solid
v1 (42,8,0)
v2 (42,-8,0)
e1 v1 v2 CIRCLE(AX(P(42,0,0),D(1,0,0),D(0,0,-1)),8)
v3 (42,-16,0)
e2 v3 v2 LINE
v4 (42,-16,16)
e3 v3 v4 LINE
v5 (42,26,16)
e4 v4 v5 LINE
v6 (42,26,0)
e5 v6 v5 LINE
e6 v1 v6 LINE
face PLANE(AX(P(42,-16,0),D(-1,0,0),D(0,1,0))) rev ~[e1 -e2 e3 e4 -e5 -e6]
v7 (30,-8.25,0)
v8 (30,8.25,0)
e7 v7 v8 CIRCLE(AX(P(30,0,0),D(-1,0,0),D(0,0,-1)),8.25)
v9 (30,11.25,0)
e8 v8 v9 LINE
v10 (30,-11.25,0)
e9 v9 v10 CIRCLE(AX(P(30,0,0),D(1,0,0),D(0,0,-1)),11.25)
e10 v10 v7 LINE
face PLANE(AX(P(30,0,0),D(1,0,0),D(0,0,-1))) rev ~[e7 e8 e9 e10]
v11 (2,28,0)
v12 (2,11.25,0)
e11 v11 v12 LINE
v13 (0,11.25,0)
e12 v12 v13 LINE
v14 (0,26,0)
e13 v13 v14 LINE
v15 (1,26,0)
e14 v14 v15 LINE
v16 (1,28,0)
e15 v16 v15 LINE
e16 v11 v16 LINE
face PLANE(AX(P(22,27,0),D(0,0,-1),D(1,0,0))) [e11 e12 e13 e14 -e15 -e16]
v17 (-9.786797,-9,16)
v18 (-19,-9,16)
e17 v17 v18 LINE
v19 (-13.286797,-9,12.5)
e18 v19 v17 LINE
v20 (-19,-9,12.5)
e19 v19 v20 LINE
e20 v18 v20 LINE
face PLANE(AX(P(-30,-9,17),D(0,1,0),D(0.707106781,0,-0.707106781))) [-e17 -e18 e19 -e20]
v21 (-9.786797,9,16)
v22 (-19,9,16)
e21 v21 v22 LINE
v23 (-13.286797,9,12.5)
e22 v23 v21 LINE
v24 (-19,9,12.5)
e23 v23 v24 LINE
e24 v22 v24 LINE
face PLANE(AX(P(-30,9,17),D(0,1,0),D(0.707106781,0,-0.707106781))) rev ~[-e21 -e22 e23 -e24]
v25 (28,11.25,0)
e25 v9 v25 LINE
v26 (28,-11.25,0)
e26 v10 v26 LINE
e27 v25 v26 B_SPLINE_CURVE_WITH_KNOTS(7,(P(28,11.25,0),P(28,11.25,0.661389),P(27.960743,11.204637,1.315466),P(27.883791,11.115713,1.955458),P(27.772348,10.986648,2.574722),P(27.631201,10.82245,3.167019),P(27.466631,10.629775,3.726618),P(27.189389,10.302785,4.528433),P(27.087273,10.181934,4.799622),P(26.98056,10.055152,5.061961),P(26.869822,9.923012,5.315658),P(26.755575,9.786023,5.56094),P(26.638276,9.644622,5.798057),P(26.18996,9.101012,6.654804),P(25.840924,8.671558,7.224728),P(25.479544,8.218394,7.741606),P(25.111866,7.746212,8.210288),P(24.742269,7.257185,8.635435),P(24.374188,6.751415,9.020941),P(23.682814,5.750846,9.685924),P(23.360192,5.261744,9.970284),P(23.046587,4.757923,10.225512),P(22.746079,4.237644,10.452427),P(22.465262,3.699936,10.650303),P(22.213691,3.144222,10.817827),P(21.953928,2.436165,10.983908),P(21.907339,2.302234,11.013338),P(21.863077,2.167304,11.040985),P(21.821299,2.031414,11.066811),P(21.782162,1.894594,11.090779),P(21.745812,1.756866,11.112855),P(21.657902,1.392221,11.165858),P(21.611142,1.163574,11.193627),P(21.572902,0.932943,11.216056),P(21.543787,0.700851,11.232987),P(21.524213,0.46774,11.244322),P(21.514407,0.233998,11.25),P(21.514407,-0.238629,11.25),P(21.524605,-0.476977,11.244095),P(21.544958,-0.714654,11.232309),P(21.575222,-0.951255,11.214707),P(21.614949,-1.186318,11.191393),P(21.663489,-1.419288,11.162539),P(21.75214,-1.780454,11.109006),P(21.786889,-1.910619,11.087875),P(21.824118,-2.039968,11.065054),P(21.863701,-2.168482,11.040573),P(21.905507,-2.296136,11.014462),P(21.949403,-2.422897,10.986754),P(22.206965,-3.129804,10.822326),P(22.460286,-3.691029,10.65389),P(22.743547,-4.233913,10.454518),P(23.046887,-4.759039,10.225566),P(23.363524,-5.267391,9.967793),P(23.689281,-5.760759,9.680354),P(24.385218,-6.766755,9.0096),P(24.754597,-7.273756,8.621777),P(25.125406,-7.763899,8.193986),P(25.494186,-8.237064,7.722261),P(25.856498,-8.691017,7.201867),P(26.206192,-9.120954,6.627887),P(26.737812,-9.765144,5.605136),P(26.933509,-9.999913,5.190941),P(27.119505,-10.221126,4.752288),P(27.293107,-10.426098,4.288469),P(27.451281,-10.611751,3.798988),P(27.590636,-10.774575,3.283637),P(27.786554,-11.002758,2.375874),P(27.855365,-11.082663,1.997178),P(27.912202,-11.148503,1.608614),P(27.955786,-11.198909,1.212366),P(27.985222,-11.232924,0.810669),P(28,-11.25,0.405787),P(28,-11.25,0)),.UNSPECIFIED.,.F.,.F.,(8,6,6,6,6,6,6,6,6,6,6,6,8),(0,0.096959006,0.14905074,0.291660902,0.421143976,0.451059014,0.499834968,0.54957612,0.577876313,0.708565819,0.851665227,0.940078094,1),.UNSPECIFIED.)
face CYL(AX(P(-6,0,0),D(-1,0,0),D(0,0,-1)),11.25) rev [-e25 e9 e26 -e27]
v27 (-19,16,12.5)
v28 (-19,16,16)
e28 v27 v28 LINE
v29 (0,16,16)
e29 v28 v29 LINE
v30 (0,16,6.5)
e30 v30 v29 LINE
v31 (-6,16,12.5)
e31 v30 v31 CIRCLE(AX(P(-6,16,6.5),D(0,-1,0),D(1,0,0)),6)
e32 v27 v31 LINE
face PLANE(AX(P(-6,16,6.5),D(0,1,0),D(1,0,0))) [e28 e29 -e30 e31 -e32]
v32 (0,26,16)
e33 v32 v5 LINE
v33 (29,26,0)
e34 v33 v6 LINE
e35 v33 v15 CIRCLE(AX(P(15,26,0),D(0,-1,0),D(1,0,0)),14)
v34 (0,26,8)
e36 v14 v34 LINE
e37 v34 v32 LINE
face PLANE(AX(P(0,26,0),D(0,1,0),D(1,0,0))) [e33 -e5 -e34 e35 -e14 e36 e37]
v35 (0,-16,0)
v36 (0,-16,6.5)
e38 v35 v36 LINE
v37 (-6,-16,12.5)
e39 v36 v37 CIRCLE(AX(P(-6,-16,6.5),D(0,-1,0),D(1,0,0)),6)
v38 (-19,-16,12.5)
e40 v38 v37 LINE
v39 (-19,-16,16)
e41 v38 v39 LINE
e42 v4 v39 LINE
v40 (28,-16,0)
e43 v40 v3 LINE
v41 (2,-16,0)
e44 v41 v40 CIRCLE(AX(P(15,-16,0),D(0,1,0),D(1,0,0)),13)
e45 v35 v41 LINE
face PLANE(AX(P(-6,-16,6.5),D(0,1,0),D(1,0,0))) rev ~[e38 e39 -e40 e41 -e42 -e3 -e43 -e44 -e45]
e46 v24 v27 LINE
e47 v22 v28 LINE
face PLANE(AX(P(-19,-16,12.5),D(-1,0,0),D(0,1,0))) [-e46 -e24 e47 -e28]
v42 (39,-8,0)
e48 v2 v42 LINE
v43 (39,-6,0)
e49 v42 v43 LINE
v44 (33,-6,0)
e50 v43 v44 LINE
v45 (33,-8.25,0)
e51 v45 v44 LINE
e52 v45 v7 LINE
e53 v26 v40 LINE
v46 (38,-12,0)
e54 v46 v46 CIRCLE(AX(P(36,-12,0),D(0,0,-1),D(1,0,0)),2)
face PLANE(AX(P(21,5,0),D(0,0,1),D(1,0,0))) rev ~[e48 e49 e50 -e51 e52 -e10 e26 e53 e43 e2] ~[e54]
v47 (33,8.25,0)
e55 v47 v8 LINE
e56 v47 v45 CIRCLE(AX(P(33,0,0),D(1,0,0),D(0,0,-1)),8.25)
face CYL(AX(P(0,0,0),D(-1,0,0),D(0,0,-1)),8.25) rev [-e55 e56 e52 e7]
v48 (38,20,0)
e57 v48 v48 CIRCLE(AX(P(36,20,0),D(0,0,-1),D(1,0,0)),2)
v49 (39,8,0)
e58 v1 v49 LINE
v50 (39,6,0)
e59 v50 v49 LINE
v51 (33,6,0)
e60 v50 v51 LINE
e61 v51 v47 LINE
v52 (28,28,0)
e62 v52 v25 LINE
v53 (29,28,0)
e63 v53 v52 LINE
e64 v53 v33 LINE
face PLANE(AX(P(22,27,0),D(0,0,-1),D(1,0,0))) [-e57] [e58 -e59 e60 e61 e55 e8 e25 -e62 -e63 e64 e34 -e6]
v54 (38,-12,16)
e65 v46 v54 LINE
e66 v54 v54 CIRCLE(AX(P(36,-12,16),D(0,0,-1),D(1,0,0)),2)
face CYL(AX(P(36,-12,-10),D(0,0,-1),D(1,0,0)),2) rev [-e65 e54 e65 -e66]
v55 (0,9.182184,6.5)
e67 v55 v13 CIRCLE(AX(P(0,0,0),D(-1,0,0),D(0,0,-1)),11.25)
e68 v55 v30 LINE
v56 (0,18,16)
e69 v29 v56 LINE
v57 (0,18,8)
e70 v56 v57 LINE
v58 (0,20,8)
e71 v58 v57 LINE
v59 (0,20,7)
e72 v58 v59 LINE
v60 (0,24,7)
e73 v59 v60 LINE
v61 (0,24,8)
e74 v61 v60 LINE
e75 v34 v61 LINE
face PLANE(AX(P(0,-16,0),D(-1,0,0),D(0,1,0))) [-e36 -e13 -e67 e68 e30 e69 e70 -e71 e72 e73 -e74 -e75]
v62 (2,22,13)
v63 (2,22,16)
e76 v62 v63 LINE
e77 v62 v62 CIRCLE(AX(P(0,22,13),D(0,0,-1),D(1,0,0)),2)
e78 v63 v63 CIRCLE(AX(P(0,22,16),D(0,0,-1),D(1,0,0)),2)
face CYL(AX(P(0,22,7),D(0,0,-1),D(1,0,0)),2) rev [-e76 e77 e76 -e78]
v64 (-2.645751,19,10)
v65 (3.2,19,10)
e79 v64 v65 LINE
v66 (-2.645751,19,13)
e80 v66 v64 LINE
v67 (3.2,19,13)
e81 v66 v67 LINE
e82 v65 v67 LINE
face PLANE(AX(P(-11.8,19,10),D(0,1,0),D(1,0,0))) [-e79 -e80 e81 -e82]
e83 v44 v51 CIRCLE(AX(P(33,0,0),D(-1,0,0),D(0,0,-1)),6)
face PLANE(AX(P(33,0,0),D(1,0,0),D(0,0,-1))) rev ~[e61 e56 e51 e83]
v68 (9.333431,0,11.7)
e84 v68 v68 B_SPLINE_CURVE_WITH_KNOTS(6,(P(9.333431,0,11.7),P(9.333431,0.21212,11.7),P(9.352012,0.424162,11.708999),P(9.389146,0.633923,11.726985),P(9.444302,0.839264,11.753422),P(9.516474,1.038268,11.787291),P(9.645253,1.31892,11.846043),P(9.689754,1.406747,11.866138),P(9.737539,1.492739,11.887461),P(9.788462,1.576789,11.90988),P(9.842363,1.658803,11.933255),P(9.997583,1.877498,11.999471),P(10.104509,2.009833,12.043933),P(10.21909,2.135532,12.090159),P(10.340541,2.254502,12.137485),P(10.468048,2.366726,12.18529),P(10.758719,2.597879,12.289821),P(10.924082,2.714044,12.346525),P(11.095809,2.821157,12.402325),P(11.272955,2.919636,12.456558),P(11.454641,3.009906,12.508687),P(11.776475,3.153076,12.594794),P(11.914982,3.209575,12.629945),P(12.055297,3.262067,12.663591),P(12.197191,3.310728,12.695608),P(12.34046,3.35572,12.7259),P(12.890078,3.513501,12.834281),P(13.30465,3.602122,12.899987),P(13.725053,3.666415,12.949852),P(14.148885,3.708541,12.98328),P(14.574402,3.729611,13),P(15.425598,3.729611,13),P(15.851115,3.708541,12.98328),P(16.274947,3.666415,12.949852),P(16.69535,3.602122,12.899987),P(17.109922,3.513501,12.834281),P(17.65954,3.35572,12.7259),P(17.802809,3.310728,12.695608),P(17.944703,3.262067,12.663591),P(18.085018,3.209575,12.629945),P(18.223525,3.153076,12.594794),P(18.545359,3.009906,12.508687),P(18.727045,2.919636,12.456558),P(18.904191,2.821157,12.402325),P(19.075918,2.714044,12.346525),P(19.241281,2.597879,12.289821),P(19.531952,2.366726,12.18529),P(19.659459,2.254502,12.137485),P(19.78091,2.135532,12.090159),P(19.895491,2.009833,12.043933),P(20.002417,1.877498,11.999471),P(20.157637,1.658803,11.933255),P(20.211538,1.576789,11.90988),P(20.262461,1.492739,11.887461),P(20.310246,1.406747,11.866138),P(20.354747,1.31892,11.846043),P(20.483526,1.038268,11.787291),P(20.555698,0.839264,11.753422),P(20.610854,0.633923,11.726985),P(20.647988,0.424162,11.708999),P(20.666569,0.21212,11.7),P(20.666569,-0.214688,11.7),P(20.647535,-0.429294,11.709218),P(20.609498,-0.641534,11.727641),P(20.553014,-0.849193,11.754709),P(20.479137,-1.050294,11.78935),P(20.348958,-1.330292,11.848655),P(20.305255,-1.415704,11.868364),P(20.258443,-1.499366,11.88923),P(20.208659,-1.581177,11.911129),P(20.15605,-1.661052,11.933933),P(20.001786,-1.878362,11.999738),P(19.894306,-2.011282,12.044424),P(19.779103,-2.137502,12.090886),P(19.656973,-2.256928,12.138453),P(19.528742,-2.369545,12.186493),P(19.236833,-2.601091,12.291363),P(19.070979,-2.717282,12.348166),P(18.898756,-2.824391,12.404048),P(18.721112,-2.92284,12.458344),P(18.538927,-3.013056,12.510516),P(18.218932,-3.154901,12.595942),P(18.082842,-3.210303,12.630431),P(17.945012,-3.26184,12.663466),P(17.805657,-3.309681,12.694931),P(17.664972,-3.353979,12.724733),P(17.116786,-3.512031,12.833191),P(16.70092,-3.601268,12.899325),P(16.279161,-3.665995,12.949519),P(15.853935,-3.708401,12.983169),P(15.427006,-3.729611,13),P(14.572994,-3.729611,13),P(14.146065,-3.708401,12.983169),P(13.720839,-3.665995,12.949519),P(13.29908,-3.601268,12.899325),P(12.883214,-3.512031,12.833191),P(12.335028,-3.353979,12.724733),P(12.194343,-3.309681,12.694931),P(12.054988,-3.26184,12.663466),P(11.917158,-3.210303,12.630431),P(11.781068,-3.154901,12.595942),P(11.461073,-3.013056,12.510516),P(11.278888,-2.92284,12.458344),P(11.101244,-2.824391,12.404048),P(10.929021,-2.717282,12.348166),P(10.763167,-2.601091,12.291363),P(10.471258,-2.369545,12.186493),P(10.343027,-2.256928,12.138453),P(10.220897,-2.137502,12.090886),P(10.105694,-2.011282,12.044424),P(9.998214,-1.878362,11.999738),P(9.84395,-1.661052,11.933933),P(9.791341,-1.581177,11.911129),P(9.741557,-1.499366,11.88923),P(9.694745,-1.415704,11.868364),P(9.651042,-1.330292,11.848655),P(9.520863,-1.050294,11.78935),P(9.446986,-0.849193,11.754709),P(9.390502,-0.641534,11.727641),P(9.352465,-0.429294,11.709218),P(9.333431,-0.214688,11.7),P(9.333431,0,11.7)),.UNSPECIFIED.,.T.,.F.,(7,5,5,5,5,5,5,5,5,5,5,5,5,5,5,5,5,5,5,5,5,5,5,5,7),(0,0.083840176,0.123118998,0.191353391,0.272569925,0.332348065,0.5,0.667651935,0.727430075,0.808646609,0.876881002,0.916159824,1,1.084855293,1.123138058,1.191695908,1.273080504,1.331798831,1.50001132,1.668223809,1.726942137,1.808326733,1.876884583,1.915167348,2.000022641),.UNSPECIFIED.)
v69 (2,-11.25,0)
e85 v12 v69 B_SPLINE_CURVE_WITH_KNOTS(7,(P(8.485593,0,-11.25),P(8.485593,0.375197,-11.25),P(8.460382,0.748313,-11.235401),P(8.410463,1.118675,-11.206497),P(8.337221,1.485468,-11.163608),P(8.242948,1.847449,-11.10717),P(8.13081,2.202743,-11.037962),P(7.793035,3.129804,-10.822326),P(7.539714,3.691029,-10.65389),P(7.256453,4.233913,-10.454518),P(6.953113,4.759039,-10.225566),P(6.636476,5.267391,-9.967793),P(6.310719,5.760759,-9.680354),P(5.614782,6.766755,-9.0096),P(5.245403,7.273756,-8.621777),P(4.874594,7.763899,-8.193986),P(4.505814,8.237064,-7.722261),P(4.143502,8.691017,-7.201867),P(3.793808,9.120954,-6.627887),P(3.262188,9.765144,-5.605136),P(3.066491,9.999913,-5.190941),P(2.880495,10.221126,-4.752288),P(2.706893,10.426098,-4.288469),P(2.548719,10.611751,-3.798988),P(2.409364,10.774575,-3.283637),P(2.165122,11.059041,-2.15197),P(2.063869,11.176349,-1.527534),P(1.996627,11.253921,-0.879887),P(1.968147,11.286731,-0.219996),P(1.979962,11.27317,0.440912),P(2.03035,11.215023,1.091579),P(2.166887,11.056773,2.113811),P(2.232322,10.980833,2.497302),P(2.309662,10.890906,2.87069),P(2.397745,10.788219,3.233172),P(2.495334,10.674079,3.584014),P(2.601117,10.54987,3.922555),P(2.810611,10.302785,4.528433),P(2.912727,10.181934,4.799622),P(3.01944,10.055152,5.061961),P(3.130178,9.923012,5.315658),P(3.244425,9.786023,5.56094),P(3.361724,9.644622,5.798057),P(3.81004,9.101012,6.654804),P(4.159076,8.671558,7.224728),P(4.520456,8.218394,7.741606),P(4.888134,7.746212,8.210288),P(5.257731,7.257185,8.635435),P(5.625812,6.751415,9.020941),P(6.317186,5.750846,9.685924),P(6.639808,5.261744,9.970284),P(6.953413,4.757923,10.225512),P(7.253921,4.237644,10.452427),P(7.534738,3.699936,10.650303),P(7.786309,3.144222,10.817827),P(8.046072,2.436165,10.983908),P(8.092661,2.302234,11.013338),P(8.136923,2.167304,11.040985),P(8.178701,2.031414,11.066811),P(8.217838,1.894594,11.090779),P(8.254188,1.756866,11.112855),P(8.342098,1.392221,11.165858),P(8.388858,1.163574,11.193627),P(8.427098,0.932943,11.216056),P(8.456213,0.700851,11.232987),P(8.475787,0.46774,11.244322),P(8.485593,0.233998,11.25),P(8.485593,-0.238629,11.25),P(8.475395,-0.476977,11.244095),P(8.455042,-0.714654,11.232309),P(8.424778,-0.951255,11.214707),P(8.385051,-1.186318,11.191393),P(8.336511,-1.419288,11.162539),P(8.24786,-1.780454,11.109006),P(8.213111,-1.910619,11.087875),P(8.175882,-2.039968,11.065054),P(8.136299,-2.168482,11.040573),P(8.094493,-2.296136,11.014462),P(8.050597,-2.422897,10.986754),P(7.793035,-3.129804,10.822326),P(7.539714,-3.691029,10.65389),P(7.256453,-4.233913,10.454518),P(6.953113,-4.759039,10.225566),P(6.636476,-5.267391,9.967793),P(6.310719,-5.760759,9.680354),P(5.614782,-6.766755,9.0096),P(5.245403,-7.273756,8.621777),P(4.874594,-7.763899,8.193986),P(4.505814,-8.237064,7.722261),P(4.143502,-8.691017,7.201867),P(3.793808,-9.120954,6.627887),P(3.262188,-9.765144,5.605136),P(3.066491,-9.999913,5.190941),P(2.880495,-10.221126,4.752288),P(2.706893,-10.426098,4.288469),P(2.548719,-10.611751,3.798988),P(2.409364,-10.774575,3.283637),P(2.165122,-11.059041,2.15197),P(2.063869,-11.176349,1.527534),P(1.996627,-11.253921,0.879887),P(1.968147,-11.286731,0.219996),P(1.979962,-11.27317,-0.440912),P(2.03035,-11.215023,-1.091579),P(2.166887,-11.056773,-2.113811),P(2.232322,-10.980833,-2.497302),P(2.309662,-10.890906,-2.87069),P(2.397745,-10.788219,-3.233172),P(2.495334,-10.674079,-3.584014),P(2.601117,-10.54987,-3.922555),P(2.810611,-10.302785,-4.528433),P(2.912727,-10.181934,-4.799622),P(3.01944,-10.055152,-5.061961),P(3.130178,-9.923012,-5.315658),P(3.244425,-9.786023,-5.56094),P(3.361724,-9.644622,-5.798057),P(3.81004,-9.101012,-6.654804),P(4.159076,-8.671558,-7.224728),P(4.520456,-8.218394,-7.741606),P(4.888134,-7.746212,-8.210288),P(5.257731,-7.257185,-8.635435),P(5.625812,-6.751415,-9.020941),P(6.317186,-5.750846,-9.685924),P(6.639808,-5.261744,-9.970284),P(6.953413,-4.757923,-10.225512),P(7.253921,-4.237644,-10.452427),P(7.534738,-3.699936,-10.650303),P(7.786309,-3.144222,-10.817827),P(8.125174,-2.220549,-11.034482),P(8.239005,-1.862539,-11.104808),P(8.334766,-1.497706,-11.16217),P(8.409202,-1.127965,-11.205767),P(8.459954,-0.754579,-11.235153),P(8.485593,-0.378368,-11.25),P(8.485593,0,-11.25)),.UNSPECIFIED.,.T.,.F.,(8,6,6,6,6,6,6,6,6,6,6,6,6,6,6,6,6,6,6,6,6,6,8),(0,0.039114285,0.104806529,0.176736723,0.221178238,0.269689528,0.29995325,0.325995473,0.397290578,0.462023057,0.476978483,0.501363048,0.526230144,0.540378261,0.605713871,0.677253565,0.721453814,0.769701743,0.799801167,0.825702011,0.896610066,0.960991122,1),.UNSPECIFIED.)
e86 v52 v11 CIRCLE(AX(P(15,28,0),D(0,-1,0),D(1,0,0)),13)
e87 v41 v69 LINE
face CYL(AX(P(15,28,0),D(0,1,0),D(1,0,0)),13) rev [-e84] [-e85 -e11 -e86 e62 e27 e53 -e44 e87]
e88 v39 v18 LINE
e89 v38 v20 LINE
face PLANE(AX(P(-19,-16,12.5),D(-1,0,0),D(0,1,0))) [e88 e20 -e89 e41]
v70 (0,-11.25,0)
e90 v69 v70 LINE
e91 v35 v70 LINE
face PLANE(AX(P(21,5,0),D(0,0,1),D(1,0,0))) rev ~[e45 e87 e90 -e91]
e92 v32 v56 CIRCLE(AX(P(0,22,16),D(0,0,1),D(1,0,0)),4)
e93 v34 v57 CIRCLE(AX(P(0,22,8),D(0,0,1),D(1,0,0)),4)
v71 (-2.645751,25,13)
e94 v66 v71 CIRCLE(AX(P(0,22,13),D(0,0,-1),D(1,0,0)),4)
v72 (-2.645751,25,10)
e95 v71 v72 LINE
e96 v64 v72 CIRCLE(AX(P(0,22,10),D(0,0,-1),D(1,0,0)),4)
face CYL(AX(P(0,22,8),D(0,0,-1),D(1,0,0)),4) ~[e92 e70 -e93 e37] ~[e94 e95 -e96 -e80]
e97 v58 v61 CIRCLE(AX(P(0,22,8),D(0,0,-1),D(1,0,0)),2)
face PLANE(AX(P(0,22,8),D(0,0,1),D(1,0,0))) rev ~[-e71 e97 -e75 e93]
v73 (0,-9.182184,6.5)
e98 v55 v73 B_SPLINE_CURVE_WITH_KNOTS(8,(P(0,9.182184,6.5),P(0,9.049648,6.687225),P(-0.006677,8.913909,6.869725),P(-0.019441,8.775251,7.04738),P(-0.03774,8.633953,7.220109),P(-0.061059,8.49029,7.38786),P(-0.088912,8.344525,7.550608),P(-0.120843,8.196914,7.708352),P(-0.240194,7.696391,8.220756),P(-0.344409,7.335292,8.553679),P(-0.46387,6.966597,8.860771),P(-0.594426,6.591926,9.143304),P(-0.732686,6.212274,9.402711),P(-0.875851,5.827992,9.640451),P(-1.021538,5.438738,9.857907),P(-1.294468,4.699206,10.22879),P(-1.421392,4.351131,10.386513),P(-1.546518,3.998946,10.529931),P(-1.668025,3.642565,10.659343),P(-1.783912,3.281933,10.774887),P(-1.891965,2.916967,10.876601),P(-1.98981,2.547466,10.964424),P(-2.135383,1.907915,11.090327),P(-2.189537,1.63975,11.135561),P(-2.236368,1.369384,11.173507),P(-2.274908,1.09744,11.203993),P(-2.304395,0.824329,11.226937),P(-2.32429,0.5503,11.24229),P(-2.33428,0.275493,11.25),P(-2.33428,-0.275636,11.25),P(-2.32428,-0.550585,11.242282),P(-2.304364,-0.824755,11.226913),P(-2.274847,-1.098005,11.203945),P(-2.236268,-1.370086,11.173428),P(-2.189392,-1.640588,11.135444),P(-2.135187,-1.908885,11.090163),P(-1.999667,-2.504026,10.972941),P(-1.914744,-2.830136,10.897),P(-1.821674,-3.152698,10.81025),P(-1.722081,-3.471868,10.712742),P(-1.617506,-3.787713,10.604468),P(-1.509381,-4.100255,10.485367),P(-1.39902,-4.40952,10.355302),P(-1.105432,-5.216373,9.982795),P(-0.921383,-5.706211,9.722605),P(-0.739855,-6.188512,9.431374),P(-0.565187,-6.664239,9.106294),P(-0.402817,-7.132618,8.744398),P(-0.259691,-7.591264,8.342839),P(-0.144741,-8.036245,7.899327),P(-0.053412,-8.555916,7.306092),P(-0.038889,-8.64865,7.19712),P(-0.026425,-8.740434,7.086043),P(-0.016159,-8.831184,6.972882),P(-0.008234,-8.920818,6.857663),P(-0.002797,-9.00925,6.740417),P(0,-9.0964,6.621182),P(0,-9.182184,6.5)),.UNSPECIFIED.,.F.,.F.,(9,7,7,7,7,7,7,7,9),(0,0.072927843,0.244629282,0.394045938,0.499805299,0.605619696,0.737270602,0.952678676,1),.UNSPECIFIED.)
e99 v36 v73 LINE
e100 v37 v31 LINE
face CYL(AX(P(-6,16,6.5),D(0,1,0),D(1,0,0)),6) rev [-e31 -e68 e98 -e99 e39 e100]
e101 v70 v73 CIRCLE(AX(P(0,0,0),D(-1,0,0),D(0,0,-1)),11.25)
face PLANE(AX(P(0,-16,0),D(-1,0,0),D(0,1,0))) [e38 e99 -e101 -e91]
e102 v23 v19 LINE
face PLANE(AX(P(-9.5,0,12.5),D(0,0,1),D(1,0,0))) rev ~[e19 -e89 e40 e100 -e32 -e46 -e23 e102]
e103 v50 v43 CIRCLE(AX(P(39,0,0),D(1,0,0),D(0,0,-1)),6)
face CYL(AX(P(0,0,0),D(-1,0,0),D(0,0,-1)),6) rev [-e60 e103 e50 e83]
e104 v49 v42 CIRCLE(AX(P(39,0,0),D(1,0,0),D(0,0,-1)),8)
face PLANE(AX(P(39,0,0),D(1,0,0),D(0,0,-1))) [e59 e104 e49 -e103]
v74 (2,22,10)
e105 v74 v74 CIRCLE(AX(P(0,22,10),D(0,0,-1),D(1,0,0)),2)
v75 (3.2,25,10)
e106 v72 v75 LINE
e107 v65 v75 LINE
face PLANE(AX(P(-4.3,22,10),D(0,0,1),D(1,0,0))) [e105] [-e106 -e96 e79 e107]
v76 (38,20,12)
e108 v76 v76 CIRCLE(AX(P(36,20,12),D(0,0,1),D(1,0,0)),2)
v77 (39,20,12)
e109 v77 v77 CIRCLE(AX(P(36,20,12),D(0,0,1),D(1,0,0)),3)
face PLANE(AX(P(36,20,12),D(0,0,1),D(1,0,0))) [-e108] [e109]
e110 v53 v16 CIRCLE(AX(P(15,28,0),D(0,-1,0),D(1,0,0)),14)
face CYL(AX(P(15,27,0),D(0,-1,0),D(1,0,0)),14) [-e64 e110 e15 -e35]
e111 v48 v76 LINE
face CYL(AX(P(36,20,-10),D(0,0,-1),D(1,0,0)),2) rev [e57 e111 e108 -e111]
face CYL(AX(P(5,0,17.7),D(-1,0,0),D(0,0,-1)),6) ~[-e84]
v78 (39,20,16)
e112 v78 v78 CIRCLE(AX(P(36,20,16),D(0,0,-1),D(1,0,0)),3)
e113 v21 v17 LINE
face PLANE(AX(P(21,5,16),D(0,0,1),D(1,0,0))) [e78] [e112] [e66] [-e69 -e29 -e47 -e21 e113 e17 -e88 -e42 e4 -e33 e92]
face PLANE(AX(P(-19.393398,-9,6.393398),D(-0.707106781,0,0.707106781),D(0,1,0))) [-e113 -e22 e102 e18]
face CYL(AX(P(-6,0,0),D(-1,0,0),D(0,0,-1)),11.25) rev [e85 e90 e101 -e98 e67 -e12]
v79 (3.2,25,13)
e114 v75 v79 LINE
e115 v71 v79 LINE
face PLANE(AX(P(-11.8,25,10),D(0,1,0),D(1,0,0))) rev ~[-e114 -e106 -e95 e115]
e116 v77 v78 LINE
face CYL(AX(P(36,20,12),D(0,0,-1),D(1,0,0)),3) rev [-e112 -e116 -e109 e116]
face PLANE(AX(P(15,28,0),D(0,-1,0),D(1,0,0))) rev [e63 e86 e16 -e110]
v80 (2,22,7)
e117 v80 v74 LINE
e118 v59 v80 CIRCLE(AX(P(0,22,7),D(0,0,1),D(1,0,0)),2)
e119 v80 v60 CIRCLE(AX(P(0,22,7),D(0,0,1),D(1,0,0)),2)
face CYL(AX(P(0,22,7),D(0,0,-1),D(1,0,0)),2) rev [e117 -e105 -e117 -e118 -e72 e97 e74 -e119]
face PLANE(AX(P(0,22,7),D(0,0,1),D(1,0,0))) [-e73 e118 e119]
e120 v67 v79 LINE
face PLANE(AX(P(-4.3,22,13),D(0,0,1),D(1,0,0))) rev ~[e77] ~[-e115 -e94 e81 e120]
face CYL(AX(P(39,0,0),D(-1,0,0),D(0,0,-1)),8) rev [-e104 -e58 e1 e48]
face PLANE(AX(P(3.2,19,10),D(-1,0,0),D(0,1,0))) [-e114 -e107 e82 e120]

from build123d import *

# Parameters (mm, degrees)
CYLINDER076_R           = 13
CYLINDER076_DEPTH       = 2.2
CYLINDER076_ROLL_ANGLE  = 90
CYLINDER075_W           = 14
CYLINDER075_H           = 2
CYLINDER075_ANGLE       = 180
CYLINDER075_ROLL_ANGLE  = 90
CYLINDER029_R           = 6
CYLINDER029_DEPTH       = 20
CYLINDER029_PITCH_ANGLE = 90
CYLINDER030_R           = 6
CYLINDER030_DEPTH       = 20
CYLINDER030_PITCH_ANGLE = 90
CYLINDER028_R           = 13
CYLINDER028_DEPTH       = 50
CYLINDER028_ROLL_ANGLE  = 90
CYLINDER027_R           = 8
CYLINDER027_DEPTH       = 3
CYLINDER027_PITCH_ANGLE = 90
CYLINDER026_R           = 6
CYLINDER026_DEPTH       = 39
CYLINDER026_PITCH_ANGLE = 90
CYLINDER025_R           = 8.25
CYLINDER025_DEPTH       = 33
CYLINDER025_PITCH_ANGLE = 90
CYLINDER024_R           = 11.25
CYLINDER024_DEPTH       = 36
CYLINDER024_PITCH_ANGLE = 90
BOX009_W                = 10
BOX009_H                = 6
BOX009_DEPTH            = 2.7
CYLINDER023_R           = 3
CYLINDER023_DEPTH       = 11
CYLINDER022_R           = 2
CYLINDER022_DEPTH       = 29
BOX008_W                = 10
BOX008_H                = 6
BOX008_DEPTH            = 2.7
CYLINDER021_R           = 3
CYLINDER021_DEPTH       = 11
CYLINDER020_R           = 2
CYLINDER020_DEPTH       = 22
BOX017_W                = 15
BOX017_H                = 6
BOX017_DEPTH            = 3
CYLINDER056_R           = 1.5
CYLINDER056_DEPTH       = 25
CYLINDER055_R           = 2
CYLINDER055_DEPTH       = 32
CYLINDER046_R           = 5
CYLINDER046_DEPTH       = 2.2
CYLINDER046_ROLL_ANGLE  = 90
BOX005_W                = 15
BOX005_H                = 18
BOX005_DEPTH            = 15
BOX005_PITCH_ANGLE      = 45
CYLINDER015_R           = 6
CYLINDER015_DEPTH       = 32
CYLINDER015_ROLL_ANGLE  = 90
BOX004_W                = 6
BOX004_H                = 32
BOX004_DEPTH            = 6
BOX003_W                = 19
BOX003_H                = 32
BOX003_DEPTH            = 3.5
BOX001_W                = 42
BOX001_H                = 42
BOX001_DEPTH            = 16
CYLINDER047_R           = 4
CYLINDER047_DEPTH       = 8


with BuildPart() as fanmuffeinner001:
    # Cylinder076 → Cylinder076 (new body)
    with BuildSketch(Plane.XY):
        Circle(CYLINDER076_R)
    extrude(amount=CYLINDER076_DEPTH)


with BuildPart() as fanmuffeinner001_1:
    # Cylinder076 roll: moved
    add(fanmuffeinner001.part.rotate(Axis((0, 0, 0), (1, 0, 0)), CYLINDER076_ROLL_ANGLE))


with BuildPart() as fanmuffeinner001_2:
    # Cylinder076 placement: moved
    add(fanmuffeinner001_1.part.moved(Location((15, 29, 0))))


with BuildPart() as fancouplering_oberschale:
    # Cylinder075 → Cylinder075 (revolve)
    with BuildSketch(Plane.XZ):
        with Locations((7, 1)):
            Rectangle(CYLINDER075_W, CYLINDER075_H)
    revolve(axis=Axis((0, 0, 0), (0, 0, 1)), revolution_arc=CYLINDER075_ANGLE)


with BuildPart() as fancouplering_oberschale_1:
    # Cylinder075 roll: moved
    add(fancouplering_oberschale.part.rotate(Axis((0, 0, 0), (1, 0, 0)), CYLINDER075_ROLL_ANGLE))


with BuildPart() as fancouplering_oberschale_2:
    # Cylinder075 placement: moved
    add(fancouplering_oberschale_1.part.moved(Location((15, 29, 0))))

    # Cut010005: cut FanMuffeInner001
    add(fanmuffeinner001_2.part, mode=Mode.SUBTRACT)


with BuildPart() as fancouplering_oberschale_3:
    # Cut010005 placement: moved
    add(fancouplering_oberschale_2.part.moved(Location((0, -1, 0))))


with BuildPart() as cylinder029:
    # Cylinder029 → Cylinder029 (new body)
    with BuildSketch(Plane.XY):
        Circle(CYLINDER029_R)
    extrude(amount=CYLINDER029_DEPTH)


with BuildPart() as cylinder029_1:
    # Cylinder029 pitch: moved
    add(cylinder029.part.rotate(Axis((0, 0, 0), (0, 1, 0)), CYLINDER029_PITCH_ANGLE))


with BuildPart() as cylinder029_2:
    # Cylinder029 placement: moved
    add(cylinder029_1.part.moved(Location((5, 0, 17.7))))


with BuildPart() as fusion019:
    # Cylinder030 → Cylinder030 (new body)
    with BuildSketch(Plane.XY):
        Circle(CYLINDER030_R)
    extrude(amount=CYLINDER030_DEPTH)


with BuildPart() as fusion019_1:
    # Cylinder030 pitch: moved
    add(fusion019.part.rotate(Axis((0, 0, 0), (0, 1, 0)), CYLINDER030_PITCH_ANGLE))


with BuildPart() as fusion019_2:
    # Cylinder030 placement: moved
    add(fusion019_1.part.moved(Location((5, 0, -17.7))))

    # Fusion019: union Cylinder029
    add(cylinder029_2.part)


with BuildPart() as cut003:
    # Cylinder028 → Cylinder028 (new body)
    with BuildSketch(Plane.XY):
        Circle(CYLINDER028_R)
    extrude(amount=CYLINDER028_DEPTH)


with BuildPart() as cut003_1:
    # Cylinder028 roll: moved
    add(cut003.part.rotate(Axis((0, 0, 0), (1, 0, 0)), CYLINDER028_ROLL_ANGLE))


with BuildPart() as cut003_2:
    # Cylinder028 placement: moved
    add(cut003_1.part.moved(Location((15, 29, 0))))

    # Cut003: cut Fusion019
    add(fusion019_2.part, mode=Mode.SUBTRACT)


with BuildPart() as cylinder027:
    # Cylinder027 → Cylinder027 (new body)
    with BuildSketch(Plane.XY):
        Circle(CYLINDER027_R)
    extrude(amount=CYLINDER027_DEPTH)


with BuildPart() as cylinder027_1:
    # Cylinder027 pitch: moved
    add(cylinder027.part.rotate(Axis((0, 0, 0), (0, 1, 0)), CYLINDER027_PITCH_ANGLE))


with BuildPart() as cylinder027_2:
    # Cylinder027 placement: moved
    add(cylinder027_1.part.moved(Location((39, 0, 0))))


with BuildPart() as cylinder026:
    # Cylinder026 → Cylinder026 (new body)
    with BuildSketch(Plane.XY):
        Circle(CYLINDER026_R)
    extrude(amount=CYLINDER026_DEPTH)


with BuildPart() as cylinder026_1:
    # Cylinder026 pitch: moved
    add(cylinder026.part.rotate(Axis((0, 0, 0), (0, 1, 0)), CYLINDER026_PITCH_ANGLE))


with BuildPart() as cylinder026_2:
    # Cylinder026 placement: moved
    add(cylinder026_1.part)


with BuildPart() as cylinder025:
    # Cylinder025 → Cylinder025 (new body)
    with BuildSketch(Plane.XY):
        Circle(CYLINDER025_R)
    extrude(amount=CYLINDER025_DEPTH)


with BuildPart() as cylinder025_1:
    # Cylinder025 pitch: moved
    add(cylinder025.part.rotate(Axis((0, 0, 0), (0, 1, 0)), CYLINDER025_PITCH_ANGLE))


with BuildPart() as cylinder025_2:
    # Cylinder025 placement: moved
    add(cylinder025_1.part)


with BuildPart() as coldendcutairflow_oberschale:
    # Cylinder024 → Cylinder024 (new body)
    with BuildSketch(Plane.XY):
        Circle(CYLINDER024_R)
    extrude(amount=CYLINDER024_DEPTH)


with BuildPart() as coldendcutairflow_oberschale_1:
    # Cylinder024 pitch: moved
    add(coldendcutairflow_oberschale.part.rotate(Axis((0, 0, 0), (0, 1, 0)), CYLINDER024_PITCH_ANGLE))


with BuildPart() as coldendcutairflow_oberschale_2:
    # Cylinder024 placement: moved
    add(coldendcutairflow_oberschale_1.part.moved(Location((-6, 0, 0))))

    # Fusion020: union Cut003, Cylinder027, Cylinder026, Cylinder025
    add(cut003_2.part)
    add(cylinder027_2.part)
    add(cylinder026_2.part)
    add(cylinder025_2.part)


with BuildPart() as cube006:
    # Box009 → Box009 (new body)
    with BuildSketch(Plane(origin=(41.8, 14, -7.5), x_dir=(1, 0, 0), z_dir=(0, 0, 1))):
        with Locations((5, 3)):
            Rectangle(BOX009_W, BOX009_H)
    extrude(amount=BOX009_DEPTH)


with BuildPart() as cylinder023:
    # Cylinder023 → Cylinder023 (new body)
    with BuildSketch(Plane(origin=(45, 21, -6), x_dir=(1, 0, 0), z_dir=(0, 0, 1))):
        Circle(CYLINDER023_R)
    extrude(amount=CYLINDER023_DEPTH)


with BuildPart() as fusion017:
    # Cylinder022 → Cylinder022 (new body)
    with BuildSketch(Plane(origin=(45, 21, -34), x_dir=(1, 0, 0), z_dir=(0, 0, 1))):
        Circle(CYLINDER022_R)
    extrude(amount=CYLINDER022_DEPTH)

    # Fusion016: union Cylinder023
    add(cylinder023.part)


with BuildPart() as fusion017_1:
    # Fusion016 placement: moved
    add(fusion017.part.moved(Location((0, -4, 24))))

    # Fusion017: union Cube006
    add(cube006.part)


with BuildPart() as fusion017_2:
    # Fusion017 placement: moved
    add(fusion017_1.part.moved(Location((-9, -29, 0))))


with BuildPart() as cube005:
    # Box008 → Box008 (new body)
    with BuildSketch(Plane(origin=(41.8, 14, -7.5), x_dir=(1, 0, 0), z_dir=(0, 0, 1))):
        with Locations((5, 3)):
            Rectangle(BOX008_W, BOX008_H)
    extrude(amount=BOX008_DEPTH)


with BuildPart() as cylinder021:
    # Cylinder021 → Cylinder021 (new body)
    with BuildSketch(Plane(origin=(45, 21, -12), x_dir=(1, 0, 0), z_dir=(0, 0, 1))):
        Circle(CYLINDER021_R)
    extrude(amount=CYLINDER021_DEPTH)


with BuildPart() as schalenbohrung_oberschale:
    # Cylinder020 → Cylinder020 (new body)
    with BuildSketch(Plane(origin=(45, 21, -34), x_dir=(1, 0, 0), z_dir=(0, 0, 1))):
        Circle(CYLINDER020_R)
    extrude(amount=CYLINDER020_DEPTH)

    # Fusion014: union Cylinder021
    add(cylinder021.part)


with BuildPart() as schalenbohrung_oberschale_1:
    # Fusion014 placement: moved
    add(schalenbohrung_oberschale.part.moved(Location((0, -4, 24))))

    # Fusion015: union Cube005
    add(cube005.part)


with BuildPart() as schalenbohrung_oberschale_2:
    # Fusion015 placement: moved
    add(schalenbohrung_oberschale_1.part.moved(Location((-9, 3, 0))))

    # Fusion018: union Fusion017
    add(fusion017_2.part)


with BuildPart() as cube014:
    # Box017 → Box017 (new body)
    with BuildSketch(Plane(origin=(58.2, 67, 3), x_dir=(1, 0, 0), z_dir=(0, 0, 1))):
        with Locations((7.5, 3)):
            Rectangle(BOX017_W, BOX017_H)
    extrude(amount=BOX017_DEPTH)


with BuildPart() as cylinder056:
    # Cylinder056 → Cylinder056 (new body)
    with BuildSketch(Plane(origin=(70, 70, 7), x_dir=(1, 0, 0), z_dir=(0, 0, 1))):
        Circle(CYLINDER056_R)
    extrude(amount=CYLINDER056_DEPTH)


with BuildPart() as bohrungafanduct_oberschale:
    # Cylinder055 → Cylinder055 (new body)
    with BuildSketch(Plane(origin=(70, 70, 0), x_dir=(1, 0, 0), z_dir=(0, 0, 1))):
        Circle(CYLINDER055_R)
    extrude(amount=CYLINDER055_DEPTH)

    # Fusion040: union Cube014, Cylinder056
    add(cube014.part)
    add(cylinder056.part)


with BuildPart() as bohrungafanduct_oberschale_1:
    # Fusion040 placement: moved
    add(bohrungafanduct_oberschale.part.moved(Location((-70, -48, 7))))


with BuildPart() as bohrungoberschale:
    # Cylinder046 → Cylinder046 (new body)
    with BuildSketch(Plane.XY):
        Circle(CYLINDER046_R)
    extrude(amount=CYLINDER046_DEPTH)


with BuildPart() as bohrungoberschale_1:
    # Cylinder046 roll: moved
    add(bohrungoberschale.part.rotate(Axis((0, 0, 0), (1, 0, 0)), CYLINDER046_ROLL_ANGLE))


with BuildPart() as bohrungoberschale_2:
    # Cylinder046 placement: moved
    add(bohrungoberschale_1.part.moved(Location((15, 26, 0))))

    # Fusion052: union ColdendCutAirFlow_OberSchale, SchalenBohrung_OberSchale, BohrungAFanDuct_OberSchale
    add(coldendcutairflow_oberschale_2.part)
    add(schalenbohrung_oberschale_2.part)
    add(bohrungafanduct_oberschale_1.part)


with BuildPart() as cube002:
    # Box005 → Box005 (new body)
    with BuildSketch(Plane.XY):
        with Locations((7.5, 9)):
            Rectangle(BOX005_W, BOX005_H)
    extrude(amount=BOX005_DEPTH)


with BuildPart() as cube002_1:
    # Box005 pitch: moved
    add(cube002.part.rotate(Axis((0, 0, 0), (0, 1, 0)), BOX005_PITCH_ANGLE))


with BuildPart() as cube002_2:
    # Box005 placement: moved
    add(cube002_1.part.moved(Location((-30, -9, 17))))


with BuildPart() as cylinder015:
    # Cylinder015 → Cylinder015 (new body)
    with BuildSketch(Plane.XY):
        Circle(CYLINDER015_R)
    extrude(amount=CYLINDER015_DEPTH)


with BuildPart() as cylinder015_1:
    # Cylinder015 roll: moved
    add(cylinder015.part.rotate(Axis((0, 0, 0), (1, 0, 0)), CYLINDER015_ROLL_ANGLE))


with BuildPart() as cylinder015_2:
    # Cylinder015 placement: moved
    add(cylinder015_1.part.moved(Location((-6, 16, 6.5))))


with BuildPart() as cut001:
    # Box004 → Box004 (new body)
    with BuildSketch(Plane(origin=(-6, -16, 6.5), x_dir=(1, 0, 0), z_dir=(0, 0, 1))):
        with Locations((3, 16)):
            Rectangle(BOX004_W, BOX004_H)
    extrude(amount=BOX004_DEPTH)

    # Cut001: cut Cylinder015
    add(cylinder015_2.part, mode=Mode.SUBTRACT)


with BuildPart() as cut002:
    # Box003 → Box003 (new body)
    with BuildSketch(Plane(origin=(-19, -16, 12.5), x_dir=(1, 0, 0), z_dir=(0, 0, 1))):
        with Locations((9.5, 16)):
            Rectangle(BOX003_W, BOX003_H)
    extrude(amount=BOX003_DEPTH)

    # Fusion007: union Cut001
    add(cut001.part)

    # Cut002: cut Cube002
    add(cube002_2.part, mode=Mode.SUBTRACT)


with BuildPart() as fusion008:
    # Box001 → Box001 (new body)
    with BuildSketch(Plane(origin=(0, -16, 0), x_dir=(1, 0, 0), z_dir=(0, 0, 1))):
        with Locations((21, 21)):
            Rectangle(BOX001_W, BOX001_H)
    extrude(amount=BOX001_DEPTH)

    # Fusion008: union Cut002
    add(cut002.part)


with BuildPart() as oberschale:
    # Cylinder047 → Cylinder047 (new body)
    with BuildSketch(Plane(origin=(0, 22, 8), x_dir=(1, 0, 0), z_dir=(0, 0, 1))):
        Circle(CYLINDER047_R)
    extrude(amount=CYLINDER047_DEPTH)

    # Fusion049: union Fusion008
    add(fusion008.part)

    # Cut010: cut BohrungOberSchale
    add(bohrungoberschale_2.part, mode=Mode.SUBTRACT)

    # Fusion058: union FanCoupleRing_OberSchale
    add(fancouplering_oberschale_3.part)


solid = oberschale.part
